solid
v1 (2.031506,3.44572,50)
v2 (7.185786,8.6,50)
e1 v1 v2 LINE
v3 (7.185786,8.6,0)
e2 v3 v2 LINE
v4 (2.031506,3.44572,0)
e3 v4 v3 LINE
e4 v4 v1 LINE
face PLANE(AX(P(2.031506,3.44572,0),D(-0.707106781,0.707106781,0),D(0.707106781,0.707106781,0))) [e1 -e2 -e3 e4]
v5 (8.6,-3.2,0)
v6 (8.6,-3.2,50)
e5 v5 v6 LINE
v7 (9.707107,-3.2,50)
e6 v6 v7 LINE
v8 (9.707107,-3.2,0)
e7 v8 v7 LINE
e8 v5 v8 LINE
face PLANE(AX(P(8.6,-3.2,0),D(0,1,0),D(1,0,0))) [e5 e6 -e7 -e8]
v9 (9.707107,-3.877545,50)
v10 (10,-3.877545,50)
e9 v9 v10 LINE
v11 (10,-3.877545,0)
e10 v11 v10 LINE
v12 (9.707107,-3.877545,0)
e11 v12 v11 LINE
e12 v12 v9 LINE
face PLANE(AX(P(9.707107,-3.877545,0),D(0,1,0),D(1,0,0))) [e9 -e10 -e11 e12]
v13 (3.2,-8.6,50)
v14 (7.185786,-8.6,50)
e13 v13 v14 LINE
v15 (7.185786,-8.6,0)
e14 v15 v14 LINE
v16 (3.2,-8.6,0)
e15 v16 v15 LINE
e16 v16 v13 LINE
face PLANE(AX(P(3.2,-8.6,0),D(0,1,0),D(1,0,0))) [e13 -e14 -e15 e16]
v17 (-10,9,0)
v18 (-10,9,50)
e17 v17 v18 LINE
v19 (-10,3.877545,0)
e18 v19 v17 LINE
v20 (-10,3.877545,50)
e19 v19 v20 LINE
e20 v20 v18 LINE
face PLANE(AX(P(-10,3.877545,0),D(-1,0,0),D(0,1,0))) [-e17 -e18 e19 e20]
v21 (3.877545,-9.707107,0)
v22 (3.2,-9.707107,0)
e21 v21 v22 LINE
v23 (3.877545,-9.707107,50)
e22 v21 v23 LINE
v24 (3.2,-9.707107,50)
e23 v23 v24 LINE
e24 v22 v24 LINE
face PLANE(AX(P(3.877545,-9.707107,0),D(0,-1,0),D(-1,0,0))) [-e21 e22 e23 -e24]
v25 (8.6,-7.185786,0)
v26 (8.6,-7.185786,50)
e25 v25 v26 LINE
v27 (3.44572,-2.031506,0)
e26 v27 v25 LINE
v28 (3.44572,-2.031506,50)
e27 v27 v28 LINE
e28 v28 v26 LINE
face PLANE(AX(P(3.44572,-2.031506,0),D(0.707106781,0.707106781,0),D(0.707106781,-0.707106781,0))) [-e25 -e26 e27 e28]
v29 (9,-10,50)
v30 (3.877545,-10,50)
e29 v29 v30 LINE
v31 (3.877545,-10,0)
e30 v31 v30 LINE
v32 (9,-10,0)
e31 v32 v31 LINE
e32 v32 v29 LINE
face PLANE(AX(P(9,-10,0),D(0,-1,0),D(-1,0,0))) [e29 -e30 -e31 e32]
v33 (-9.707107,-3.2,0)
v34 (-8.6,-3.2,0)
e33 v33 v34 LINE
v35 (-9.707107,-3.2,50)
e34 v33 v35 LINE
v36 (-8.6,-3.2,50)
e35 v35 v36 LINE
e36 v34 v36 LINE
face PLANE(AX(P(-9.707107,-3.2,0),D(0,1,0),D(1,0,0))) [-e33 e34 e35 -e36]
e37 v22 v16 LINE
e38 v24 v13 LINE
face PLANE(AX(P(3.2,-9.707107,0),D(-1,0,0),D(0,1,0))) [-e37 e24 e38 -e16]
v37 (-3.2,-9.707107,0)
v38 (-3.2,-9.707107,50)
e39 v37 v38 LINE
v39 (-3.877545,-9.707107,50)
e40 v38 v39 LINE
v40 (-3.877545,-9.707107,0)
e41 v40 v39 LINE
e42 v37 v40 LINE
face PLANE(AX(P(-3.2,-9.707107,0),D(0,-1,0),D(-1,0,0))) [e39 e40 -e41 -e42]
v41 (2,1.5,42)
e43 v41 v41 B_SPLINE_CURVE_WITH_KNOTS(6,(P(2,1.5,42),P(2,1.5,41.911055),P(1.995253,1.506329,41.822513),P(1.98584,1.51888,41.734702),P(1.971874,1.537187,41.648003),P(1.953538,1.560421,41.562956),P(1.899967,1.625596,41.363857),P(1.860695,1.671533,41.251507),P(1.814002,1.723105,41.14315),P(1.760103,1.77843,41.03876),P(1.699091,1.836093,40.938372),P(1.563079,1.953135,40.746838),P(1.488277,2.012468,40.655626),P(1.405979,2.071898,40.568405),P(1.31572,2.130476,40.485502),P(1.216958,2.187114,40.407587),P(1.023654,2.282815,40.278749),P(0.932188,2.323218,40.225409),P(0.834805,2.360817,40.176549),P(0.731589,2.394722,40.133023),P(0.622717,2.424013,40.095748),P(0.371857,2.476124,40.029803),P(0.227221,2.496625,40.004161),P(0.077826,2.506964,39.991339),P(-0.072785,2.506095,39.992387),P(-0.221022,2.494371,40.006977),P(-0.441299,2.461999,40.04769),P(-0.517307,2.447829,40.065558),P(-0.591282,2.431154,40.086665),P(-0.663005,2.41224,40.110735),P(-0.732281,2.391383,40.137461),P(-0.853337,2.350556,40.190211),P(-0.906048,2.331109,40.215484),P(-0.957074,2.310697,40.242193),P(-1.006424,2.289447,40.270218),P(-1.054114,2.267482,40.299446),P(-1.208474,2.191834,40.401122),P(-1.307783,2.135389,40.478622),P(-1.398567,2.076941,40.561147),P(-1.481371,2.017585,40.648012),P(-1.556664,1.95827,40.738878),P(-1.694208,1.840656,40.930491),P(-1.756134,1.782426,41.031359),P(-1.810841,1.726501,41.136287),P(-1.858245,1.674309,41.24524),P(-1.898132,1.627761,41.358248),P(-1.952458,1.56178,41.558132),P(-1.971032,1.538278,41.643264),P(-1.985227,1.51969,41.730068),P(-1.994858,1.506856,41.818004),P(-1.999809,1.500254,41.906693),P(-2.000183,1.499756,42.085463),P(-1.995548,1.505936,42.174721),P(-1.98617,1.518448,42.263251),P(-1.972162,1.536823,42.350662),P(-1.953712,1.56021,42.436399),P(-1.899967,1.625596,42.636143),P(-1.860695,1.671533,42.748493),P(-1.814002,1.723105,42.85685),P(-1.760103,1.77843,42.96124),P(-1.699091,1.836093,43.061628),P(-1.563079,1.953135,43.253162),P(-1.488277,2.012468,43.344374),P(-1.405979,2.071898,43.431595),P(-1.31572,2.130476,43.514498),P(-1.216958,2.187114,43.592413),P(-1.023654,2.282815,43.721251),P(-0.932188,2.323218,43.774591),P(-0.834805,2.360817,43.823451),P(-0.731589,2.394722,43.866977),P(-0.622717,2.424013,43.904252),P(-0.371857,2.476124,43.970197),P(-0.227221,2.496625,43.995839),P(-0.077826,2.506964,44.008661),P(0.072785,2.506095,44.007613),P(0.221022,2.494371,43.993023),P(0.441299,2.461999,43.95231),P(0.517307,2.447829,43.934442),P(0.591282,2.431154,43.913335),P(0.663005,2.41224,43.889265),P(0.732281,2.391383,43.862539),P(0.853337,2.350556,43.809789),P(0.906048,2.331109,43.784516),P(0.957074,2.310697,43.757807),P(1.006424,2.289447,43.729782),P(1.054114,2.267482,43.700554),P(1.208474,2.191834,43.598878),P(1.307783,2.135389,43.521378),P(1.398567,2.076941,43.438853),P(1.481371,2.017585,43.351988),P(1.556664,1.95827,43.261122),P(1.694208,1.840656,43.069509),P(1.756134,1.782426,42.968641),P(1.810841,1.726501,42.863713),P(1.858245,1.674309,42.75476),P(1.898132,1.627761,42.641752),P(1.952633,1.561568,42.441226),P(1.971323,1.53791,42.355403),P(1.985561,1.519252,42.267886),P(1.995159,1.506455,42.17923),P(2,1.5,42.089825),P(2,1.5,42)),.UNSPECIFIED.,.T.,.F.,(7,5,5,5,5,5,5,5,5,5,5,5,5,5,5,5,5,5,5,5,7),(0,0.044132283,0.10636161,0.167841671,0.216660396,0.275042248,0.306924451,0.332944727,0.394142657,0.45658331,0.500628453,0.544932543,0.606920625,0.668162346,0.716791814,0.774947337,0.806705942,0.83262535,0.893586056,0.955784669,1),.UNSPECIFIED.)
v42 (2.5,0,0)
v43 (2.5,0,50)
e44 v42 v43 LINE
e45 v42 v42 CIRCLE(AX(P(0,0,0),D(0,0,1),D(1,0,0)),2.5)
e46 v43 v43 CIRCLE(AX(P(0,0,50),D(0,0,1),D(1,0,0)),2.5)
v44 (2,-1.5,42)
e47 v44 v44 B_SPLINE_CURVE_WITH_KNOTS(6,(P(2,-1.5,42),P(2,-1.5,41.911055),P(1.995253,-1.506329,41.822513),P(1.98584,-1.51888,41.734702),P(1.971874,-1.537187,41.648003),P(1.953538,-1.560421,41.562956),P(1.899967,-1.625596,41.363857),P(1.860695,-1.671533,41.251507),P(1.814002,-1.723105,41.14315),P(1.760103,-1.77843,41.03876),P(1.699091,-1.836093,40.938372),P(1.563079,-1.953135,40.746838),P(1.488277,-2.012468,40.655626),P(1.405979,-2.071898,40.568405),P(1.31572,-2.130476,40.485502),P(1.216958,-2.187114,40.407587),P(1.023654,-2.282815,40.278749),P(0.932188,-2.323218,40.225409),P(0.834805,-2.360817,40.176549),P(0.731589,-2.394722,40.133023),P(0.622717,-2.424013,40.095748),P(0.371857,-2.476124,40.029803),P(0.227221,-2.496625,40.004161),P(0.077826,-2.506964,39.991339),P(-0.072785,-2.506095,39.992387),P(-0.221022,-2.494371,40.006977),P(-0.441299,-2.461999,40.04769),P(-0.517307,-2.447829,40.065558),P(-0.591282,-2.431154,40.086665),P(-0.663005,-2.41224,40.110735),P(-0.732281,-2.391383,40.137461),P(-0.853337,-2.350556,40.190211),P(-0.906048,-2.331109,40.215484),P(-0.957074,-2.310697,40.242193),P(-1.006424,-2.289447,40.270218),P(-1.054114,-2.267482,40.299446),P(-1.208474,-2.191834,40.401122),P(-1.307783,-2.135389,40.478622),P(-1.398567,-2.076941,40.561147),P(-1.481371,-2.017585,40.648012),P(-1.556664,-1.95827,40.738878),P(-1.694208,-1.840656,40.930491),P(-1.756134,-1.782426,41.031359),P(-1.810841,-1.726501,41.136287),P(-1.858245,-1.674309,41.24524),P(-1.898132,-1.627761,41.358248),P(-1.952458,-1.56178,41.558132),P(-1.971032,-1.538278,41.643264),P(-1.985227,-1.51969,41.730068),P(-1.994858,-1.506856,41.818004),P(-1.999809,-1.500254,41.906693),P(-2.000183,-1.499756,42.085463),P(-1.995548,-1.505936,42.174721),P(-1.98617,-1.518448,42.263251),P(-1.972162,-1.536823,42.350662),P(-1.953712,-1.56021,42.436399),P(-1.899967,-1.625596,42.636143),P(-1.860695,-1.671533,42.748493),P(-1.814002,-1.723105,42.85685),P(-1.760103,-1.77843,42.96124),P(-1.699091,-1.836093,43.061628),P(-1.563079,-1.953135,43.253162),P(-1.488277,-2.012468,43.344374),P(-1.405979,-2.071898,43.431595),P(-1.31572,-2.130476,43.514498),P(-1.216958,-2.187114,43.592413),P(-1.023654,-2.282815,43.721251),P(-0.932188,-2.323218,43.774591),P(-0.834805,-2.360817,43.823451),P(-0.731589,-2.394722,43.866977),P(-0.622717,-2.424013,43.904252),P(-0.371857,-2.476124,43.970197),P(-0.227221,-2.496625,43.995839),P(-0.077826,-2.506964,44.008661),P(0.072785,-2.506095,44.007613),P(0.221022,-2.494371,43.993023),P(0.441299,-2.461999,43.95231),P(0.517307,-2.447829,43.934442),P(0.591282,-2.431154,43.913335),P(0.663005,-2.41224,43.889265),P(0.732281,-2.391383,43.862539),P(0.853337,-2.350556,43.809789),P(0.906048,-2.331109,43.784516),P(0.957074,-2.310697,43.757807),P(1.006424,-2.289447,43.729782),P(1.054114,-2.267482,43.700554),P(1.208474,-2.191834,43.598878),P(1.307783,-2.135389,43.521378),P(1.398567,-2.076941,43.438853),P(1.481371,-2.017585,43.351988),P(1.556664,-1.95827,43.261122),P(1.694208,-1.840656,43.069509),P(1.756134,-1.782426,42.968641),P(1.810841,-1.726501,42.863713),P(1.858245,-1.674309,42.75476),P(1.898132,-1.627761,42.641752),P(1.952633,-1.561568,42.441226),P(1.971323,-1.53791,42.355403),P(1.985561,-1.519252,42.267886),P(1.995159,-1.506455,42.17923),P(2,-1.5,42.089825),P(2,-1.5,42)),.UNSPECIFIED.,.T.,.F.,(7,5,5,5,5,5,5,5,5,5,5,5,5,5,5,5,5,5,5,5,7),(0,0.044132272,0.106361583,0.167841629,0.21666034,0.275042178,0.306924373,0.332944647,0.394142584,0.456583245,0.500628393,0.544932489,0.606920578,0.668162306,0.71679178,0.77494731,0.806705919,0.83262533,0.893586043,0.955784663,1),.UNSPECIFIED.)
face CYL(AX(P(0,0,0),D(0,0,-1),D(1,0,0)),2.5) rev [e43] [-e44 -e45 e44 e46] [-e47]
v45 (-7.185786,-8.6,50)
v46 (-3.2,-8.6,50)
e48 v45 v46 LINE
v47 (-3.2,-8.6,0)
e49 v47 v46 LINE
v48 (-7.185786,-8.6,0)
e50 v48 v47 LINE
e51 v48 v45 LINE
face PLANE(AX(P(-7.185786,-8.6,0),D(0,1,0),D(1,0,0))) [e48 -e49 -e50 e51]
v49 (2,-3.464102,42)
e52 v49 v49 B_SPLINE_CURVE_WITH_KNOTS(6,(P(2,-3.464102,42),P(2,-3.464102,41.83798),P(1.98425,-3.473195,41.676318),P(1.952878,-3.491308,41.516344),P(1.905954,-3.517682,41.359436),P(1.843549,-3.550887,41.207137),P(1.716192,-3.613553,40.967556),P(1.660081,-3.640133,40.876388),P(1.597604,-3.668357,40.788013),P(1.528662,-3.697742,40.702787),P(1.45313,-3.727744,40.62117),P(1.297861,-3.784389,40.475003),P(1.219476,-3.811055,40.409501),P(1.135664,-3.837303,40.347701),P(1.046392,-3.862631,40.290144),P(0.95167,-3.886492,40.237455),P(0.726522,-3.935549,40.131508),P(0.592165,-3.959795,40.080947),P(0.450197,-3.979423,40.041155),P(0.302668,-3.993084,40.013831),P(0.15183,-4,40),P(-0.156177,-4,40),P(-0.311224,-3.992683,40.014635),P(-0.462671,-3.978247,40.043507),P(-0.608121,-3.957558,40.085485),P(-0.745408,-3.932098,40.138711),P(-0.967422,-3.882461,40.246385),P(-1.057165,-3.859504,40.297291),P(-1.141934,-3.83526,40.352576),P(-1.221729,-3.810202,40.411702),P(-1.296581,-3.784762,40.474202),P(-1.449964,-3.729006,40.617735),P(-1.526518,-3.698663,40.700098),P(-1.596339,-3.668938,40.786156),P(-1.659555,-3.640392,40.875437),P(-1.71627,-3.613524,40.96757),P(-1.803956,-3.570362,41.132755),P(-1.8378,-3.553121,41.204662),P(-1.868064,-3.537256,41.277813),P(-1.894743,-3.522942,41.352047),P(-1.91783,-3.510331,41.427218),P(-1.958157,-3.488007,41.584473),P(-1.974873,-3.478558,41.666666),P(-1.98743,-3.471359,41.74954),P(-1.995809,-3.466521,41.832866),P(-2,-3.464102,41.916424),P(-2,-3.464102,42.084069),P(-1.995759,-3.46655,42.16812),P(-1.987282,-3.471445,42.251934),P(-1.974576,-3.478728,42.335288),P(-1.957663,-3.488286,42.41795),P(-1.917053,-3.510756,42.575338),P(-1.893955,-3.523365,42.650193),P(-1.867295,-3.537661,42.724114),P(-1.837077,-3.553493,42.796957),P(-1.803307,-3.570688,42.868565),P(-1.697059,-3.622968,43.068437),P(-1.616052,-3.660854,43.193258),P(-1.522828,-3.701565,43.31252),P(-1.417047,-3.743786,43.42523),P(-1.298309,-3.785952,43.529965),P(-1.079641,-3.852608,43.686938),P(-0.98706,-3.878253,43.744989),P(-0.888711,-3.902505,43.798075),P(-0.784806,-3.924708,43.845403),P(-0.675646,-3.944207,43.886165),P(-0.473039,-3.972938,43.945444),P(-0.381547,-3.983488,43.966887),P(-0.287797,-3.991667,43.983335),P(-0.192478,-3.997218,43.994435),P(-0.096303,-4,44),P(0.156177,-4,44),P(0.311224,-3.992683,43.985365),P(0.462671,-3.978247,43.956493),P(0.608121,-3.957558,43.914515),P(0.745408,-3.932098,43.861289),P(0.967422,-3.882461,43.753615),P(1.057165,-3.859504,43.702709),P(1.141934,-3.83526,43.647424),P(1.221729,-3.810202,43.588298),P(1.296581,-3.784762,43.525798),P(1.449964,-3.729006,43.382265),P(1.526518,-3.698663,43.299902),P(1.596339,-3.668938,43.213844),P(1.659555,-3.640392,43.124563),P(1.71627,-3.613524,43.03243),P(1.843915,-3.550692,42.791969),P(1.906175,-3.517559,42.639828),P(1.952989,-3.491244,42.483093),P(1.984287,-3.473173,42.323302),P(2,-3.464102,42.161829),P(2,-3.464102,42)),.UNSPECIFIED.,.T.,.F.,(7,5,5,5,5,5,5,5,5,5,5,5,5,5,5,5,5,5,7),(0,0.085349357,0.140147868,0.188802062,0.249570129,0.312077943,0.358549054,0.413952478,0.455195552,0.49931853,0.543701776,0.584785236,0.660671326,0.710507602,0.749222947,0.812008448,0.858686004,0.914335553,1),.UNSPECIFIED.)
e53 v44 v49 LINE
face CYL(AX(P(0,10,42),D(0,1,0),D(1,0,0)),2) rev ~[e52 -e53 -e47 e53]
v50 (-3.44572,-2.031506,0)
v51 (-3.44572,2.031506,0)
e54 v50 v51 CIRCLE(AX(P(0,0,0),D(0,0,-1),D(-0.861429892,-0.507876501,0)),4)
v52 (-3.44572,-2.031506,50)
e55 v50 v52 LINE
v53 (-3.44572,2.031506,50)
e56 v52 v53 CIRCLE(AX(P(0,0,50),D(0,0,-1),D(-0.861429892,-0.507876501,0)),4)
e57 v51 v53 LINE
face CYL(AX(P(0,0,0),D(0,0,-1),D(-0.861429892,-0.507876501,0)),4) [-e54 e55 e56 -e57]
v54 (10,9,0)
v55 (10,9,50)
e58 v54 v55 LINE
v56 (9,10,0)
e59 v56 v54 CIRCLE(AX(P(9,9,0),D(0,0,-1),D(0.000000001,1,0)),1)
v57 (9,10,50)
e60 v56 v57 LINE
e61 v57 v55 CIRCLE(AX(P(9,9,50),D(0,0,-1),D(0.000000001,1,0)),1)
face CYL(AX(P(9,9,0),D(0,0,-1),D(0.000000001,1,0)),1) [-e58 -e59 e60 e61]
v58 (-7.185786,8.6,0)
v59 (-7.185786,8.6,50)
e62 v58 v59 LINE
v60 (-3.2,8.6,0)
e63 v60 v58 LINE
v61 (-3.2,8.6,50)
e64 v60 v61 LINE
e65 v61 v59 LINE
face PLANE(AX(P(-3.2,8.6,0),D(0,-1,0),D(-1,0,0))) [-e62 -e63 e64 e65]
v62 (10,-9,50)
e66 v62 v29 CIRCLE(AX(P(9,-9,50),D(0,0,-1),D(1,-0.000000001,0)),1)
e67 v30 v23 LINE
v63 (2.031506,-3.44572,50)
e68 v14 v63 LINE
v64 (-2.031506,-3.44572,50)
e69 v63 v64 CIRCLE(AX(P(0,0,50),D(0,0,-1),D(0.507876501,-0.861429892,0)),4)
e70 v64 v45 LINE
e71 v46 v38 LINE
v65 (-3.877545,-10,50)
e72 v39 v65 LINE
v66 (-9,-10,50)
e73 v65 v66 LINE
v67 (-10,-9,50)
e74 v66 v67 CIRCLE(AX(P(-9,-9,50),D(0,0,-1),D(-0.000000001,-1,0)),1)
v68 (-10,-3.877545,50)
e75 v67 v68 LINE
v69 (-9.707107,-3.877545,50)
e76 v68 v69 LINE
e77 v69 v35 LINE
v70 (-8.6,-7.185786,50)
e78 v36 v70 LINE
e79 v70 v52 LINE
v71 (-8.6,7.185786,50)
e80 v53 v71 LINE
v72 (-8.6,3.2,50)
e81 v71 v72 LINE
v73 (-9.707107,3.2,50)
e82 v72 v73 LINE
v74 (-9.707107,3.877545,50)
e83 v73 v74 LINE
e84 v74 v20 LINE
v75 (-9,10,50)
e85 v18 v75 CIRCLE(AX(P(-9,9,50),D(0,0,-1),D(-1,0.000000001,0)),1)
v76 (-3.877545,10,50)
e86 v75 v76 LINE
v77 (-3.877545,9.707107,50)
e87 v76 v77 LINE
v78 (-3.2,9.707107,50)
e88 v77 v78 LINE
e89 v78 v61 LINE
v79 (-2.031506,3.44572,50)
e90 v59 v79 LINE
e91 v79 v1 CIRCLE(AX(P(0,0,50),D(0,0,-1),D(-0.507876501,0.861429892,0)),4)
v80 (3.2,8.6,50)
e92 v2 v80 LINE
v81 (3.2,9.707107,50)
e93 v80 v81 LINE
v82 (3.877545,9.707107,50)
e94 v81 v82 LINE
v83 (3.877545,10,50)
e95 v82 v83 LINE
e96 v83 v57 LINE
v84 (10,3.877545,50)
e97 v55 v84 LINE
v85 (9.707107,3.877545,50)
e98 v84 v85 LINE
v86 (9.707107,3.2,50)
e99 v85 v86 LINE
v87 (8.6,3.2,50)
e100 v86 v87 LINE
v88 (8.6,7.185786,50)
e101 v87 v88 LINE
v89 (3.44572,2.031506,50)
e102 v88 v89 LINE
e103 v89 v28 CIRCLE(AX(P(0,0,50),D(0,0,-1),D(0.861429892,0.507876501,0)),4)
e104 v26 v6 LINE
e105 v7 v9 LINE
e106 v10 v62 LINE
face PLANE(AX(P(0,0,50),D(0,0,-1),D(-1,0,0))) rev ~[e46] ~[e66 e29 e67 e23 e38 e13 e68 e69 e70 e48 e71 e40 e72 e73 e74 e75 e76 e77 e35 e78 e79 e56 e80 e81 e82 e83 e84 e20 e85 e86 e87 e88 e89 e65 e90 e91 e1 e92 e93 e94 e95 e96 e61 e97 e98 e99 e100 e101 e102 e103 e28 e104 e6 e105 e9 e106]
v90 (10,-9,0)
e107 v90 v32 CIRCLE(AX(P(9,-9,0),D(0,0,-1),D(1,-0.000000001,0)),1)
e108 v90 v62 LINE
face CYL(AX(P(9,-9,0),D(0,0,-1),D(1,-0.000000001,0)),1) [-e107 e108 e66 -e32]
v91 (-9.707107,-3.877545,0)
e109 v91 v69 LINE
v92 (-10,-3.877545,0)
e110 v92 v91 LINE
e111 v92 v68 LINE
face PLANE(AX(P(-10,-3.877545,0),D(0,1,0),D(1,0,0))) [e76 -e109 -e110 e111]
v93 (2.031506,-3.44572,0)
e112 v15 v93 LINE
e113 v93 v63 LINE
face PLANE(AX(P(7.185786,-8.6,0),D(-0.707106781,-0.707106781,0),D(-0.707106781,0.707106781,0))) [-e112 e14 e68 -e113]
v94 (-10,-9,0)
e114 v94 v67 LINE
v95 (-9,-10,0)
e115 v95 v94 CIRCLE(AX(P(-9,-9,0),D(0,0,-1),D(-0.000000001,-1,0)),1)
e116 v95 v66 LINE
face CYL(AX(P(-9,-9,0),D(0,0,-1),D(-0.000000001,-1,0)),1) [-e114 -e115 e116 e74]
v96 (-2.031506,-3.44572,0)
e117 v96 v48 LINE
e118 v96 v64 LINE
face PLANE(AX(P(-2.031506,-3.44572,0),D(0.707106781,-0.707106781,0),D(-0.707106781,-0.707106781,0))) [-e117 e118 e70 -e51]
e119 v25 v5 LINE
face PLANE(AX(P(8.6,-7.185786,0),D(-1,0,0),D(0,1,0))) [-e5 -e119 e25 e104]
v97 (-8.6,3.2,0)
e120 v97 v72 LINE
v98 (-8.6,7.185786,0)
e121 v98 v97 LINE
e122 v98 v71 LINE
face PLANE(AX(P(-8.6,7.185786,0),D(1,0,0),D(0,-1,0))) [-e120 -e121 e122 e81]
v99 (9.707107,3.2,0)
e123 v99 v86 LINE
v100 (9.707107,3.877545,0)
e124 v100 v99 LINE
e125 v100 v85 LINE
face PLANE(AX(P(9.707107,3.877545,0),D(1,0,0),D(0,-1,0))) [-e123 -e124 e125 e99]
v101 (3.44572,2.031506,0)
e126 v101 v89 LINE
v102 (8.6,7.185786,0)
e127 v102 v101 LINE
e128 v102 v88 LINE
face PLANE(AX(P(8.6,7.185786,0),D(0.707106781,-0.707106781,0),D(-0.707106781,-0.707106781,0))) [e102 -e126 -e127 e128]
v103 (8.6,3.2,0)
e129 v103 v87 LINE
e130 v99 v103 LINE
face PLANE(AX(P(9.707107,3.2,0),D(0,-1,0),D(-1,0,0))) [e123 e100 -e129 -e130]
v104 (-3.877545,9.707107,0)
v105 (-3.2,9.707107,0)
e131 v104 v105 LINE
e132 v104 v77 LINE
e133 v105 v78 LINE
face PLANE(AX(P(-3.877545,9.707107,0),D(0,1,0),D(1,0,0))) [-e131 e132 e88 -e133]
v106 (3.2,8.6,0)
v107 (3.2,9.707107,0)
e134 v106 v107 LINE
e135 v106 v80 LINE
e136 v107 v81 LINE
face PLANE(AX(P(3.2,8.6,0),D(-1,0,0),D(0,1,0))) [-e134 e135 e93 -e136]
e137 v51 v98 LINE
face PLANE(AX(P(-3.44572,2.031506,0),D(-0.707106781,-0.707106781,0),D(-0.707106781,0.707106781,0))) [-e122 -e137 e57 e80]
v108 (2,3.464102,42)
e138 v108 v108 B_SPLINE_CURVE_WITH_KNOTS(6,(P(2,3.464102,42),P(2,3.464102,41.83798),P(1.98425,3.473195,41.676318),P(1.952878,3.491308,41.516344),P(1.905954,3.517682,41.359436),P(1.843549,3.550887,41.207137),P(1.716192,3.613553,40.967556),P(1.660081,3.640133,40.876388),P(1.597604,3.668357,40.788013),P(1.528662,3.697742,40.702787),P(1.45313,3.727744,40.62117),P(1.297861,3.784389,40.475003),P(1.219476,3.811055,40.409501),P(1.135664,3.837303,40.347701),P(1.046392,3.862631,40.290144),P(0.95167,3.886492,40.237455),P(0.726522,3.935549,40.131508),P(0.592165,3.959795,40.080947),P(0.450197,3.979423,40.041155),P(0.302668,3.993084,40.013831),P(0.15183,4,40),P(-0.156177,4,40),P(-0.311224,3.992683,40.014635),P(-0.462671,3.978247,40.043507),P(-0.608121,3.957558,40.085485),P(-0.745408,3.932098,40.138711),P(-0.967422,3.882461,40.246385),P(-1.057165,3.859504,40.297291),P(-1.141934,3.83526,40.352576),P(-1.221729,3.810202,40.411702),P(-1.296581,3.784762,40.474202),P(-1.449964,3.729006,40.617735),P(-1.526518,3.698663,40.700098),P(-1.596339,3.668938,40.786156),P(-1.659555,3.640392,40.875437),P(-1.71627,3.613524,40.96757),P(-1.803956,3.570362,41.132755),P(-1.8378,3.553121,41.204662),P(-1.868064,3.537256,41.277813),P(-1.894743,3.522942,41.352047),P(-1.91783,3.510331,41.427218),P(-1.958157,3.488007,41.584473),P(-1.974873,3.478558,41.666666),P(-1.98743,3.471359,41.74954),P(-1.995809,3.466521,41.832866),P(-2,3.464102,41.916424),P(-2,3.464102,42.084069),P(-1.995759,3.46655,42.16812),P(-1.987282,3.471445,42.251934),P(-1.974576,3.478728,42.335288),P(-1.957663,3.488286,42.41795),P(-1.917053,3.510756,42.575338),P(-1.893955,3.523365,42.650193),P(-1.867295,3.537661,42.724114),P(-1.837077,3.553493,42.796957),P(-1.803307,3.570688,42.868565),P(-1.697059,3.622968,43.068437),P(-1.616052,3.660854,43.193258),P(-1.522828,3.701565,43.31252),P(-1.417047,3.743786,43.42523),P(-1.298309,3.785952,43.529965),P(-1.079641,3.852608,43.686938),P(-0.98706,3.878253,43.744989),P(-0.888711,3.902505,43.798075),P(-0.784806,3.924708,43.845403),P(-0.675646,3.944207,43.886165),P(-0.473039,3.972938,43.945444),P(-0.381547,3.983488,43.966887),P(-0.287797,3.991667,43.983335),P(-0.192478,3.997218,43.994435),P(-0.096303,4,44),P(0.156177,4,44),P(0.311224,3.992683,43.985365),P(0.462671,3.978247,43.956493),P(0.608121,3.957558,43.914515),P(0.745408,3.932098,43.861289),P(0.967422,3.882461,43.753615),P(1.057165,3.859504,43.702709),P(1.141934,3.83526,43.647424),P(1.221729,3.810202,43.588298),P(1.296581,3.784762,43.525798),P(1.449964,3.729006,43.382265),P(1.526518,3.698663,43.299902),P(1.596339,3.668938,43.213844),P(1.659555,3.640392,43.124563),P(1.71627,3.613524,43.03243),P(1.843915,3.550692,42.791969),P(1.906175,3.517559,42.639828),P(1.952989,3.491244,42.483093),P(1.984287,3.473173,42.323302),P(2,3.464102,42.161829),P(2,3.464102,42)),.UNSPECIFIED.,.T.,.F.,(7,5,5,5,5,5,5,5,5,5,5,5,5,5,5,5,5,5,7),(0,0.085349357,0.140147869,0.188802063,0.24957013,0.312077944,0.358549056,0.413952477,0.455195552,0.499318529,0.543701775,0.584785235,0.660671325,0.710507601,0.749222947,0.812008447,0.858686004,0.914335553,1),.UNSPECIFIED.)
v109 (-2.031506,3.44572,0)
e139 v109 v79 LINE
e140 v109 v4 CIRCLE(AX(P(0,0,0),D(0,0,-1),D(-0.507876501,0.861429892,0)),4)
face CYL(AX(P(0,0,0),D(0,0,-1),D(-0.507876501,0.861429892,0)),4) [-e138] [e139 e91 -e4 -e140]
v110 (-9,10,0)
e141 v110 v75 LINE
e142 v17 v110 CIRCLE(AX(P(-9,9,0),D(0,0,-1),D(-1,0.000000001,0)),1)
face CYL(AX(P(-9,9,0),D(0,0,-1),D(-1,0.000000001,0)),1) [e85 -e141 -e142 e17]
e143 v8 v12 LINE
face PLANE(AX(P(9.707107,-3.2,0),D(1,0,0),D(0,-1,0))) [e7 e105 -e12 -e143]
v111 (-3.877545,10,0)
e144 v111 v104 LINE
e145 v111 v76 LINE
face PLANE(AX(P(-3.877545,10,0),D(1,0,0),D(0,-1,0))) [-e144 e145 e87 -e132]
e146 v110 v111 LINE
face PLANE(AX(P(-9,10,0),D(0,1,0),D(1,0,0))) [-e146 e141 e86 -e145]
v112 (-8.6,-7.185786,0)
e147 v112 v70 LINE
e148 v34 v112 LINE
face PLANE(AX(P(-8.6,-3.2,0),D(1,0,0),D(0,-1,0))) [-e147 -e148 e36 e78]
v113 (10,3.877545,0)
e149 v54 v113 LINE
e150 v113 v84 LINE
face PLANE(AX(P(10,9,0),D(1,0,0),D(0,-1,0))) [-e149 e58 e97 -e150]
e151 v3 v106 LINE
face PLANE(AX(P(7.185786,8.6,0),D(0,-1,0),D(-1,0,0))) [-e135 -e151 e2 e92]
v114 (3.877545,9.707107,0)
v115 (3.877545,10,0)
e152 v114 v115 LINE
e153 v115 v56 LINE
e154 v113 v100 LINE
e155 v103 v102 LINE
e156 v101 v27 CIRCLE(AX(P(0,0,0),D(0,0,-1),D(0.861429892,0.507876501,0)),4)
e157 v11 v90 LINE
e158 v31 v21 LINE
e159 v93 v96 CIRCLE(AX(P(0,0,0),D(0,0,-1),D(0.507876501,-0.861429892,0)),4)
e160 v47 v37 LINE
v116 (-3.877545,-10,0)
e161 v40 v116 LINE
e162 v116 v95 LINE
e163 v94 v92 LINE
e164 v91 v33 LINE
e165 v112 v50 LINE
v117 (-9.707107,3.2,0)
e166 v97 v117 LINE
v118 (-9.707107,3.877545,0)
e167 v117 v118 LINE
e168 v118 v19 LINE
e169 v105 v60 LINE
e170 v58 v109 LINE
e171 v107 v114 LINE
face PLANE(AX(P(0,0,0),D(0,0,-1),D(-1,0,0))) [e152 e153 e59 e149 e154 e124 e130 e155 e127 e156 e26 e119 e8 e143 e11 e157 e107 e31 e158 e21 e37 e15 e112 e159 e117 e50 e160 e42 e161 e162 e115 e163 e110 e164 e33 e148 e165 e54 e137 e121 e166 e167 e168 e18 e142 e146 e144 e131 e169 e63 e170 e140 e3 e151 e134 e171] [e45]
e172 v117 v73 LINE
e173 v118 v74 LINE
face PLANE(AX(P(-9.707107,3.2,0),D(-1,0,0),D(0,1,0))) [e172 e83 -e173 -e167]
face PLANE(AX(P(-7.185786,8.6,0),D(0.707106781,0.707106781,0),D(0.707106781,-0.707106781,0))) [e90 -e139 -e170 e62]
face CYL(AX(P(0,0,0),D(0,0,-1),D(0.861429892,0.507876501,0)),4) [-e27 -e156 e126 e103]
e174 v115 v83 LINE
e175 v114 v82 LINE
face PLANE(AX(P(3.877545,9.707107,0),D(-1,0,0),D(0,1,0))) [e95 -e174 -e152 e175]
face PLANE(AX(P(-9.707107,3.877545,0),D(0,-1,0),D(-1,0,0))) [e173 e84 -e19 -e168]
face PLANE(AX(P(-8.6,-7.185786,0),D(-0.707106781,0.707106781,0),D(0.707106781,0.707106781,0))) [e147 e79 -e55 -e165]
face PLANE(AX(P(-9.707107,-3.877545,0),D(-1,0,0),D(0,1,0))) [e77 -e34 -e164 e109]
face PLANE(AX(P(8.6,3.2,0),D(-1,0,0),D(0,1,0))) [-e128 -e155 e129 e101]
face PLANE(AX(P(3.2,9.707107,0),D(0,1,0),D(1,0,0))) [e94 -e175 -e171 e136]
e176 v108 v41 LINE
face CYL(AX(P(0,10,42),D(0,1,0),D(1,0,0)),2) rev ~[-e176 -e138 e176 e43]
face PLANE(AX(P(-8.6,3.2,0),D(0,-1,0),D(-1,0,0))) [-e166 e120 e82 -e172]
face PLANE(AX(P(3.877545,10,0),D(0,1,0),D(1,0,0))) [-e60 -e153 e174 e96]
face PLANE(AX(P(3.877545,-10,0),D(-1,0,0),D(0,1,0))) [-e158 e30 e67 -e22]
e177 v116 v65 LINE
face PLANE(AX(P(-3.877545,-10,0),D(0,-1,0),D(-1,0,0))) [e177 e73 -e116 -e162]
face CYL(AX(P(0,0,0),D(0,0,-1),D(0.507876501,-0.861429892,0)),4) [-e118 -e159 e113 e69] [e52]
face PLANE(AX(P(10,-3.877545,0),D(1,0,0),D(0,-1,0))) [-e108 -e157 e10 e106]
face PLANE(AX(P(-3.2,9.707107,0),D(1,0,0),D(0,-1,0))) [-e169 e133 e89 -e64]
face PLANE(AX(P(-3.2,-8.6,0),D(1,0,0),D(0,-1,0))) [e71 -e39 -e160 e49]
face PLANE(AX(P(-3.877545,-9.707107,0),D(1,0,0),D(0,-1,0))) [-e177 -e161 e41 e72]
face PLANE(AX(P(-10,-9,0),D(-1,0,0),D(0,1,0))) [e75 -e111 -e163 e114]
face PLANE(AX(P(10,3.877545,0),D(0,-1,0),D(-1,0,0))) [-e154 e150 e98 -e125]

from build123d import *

# Parameters (mm, degrees)
SKETCH1_R               = 2.5
BOSS_EXTRUDE1_DEPTH     = 50
SKETCH2_R               = 2
CUT_EXTRUDE1_DEPTH      = 1
CUT_EXTRUDE1_DEPTH_BACK = 21


with BuildPart() as part:
    # Sketch1 → Boss-Extrude1 (new body)
    with BuildSketch(Plane.XY):
        with BuildLine():
            Line((-9.707106781, -3.2), (-8.6, -3.2))
            Line((-8.6, -3.2), (-8.6, -7.185786438))
            Line((-8.6, -7.185786438), (-3.445719569, -2.031506006))
            ThreePointArc((-3.445719569, -2.031506006), (-4, 0), (-3.445719569, 2.031506006))
            Line((-3.445719569, 2.031506006), (-8.6, 7.185786438))
            Line((-8.6, 7.185786438), (-8.6, 3.2))
            Line((-8.6, 3.2), (-9.707106781, 3.2))
            Line((-9.707106781, 3.2), (-9.707106781, 3.877544562))
            Line((-9.707106781, 3.877544562), (-10, 3.877544562))
            Line((-10, 3.877544562), (-10, 9))
            ThreePointArc((-10, 9), (-9.707106781, 9.707106781), (-9, 10))
            Line((-9, 10), (-3.877544562, 10))
            Line((-3.877544562, 10), (-3.877544562, 9.707106781))
            Line((-3.877544562, 9.707106781), (-3.2, 9.707106781))
            Line((-3.2, 9.707106781), (-3.2, 8.6))
            Line((-3.2, 8.6), (-7.185786438, 8.6))
            Line((-7.185786438, 8.6), (-2.031506006, 3.445719569))
            ThreePointArc((-2.031506006, 3.445719569), (0, 4), (2.031506006, 3.445719569))
            Line((2.031506006, 3.445719569), (7.185786438, 8.6))
            Line((7.185786438, 8.6), (3.2, 8.6))
            Line((3.2, 8.6), (3.2, 9.707106781))
            Line((3.2, 9.707106781), (3.877544562, 9.707106781))
            Line((3.877544562, 9.707106781), (3.877544562, 10))
            Line((3.877544562, 10), (9, 10))
            ThreePointArc((9, 10), (9.707106781, 9.707106781), (10, 9))
            Line((10, 9), (10, 3.877544562))
            Line((10, 3.877544562), (9.707106781, 3.877544562))
            Line((9.707106781, 3.877544562), (9.707106781, 3.2))
            Line((9.707106781, 3.2), (8.6, 3.2))
            Line((8.6, 3.2), (8.6, 7.185786438))
            Line((8.6, 7.185786438), (3.445719569, 2.031506006))
            ThreePointArc((3.445719569, 2.031506006), (4, 0), (3.445719569, -2.031506006))
            Line((3.445719569, -2.031506006), (8.6, -7.185786438))
            Line((8.6, -7.185786438), (8.6, -3.2))
            Line((8.6, -3.2), (9.707106781, -3.2))
            Line((9.707106781, -3.2), (9.707106781, -3.877544562))
            Line((9.707106781, -3.877544562), (10, -3.877544562))
            Line((10, -3.877544562), (10, -9))
            ThreePointArc((10, -9), (9.707106781, -9.707106781), (9, -10))
            Line((9, -10), (3.877544562, -10))
            Line((3.877544562, -10), (3.877544562, -9.707106781))
            Line((3.877544562, -9.707106781), (3.2, -9.707106781))
            Line((3.2, -9.707106781), (3.2, -8.6))
            Line((3.2, -8.6), (7.185786438, -8.6))
            Line((7.185786438, -8.6), (2.031506006, -3.445719569))
            ThreePointArc((2.031506006, -3.445719569), (0, -4), (-2.031506006, -3.445719569))
            Line((-2.031506006, -3.445719569), (-7.185786438, -8.6))
            Line((-7.185786438, -8.6), (-3.2, -8.6))
            Line((-3.2, -8.6), (-3.2, -9.707106781))
            Line((-3.2, -9.707106781), (-3.877544562, -9.707106781))
            Line((-3.877544562, -9.707106781), (-3.877544562, -10))
            Line((-3.877544562, -10), (-9, -10))
            ThreePointArc((-9, -10), (-9.707106781, -9.707106781), (-10, -9))
            Line((-10, -9), (-10, -3.877544562))
            Line((-10, -3.877544562), (-9.707106781, -3.877544562))
            Line((-9.707106781, -3.877544562), (-9.707106781, -3.2))
        make_face()
        Circle(SKETCH1_R, mode=Mode.SUBTRACT)
    extrude(amount=BOSS_EXTRUDE1_DEPTH)

    # Sketch2 → Cut-Extrude1 (cut, two sides)
    with BuildSketch(Plane(origin=(0, 10, 0), x_dir=(1, 0, 0), z_dir=(0, 1, 0))) as cut_extrude1_sk:
        with Locations((0, -42)):
            Circle(SKETCH2_R)
    extrude(amount=CUT_EXTRUDE1_DEPTH, mode=Mode.SUBTRACT)
    extrude(cut_extrude1_sk.sketch, amount=-CUT_EXTRUDE1_DEPTH_BACK, mode=Mode.SUBTRACT)


solid = part.part
